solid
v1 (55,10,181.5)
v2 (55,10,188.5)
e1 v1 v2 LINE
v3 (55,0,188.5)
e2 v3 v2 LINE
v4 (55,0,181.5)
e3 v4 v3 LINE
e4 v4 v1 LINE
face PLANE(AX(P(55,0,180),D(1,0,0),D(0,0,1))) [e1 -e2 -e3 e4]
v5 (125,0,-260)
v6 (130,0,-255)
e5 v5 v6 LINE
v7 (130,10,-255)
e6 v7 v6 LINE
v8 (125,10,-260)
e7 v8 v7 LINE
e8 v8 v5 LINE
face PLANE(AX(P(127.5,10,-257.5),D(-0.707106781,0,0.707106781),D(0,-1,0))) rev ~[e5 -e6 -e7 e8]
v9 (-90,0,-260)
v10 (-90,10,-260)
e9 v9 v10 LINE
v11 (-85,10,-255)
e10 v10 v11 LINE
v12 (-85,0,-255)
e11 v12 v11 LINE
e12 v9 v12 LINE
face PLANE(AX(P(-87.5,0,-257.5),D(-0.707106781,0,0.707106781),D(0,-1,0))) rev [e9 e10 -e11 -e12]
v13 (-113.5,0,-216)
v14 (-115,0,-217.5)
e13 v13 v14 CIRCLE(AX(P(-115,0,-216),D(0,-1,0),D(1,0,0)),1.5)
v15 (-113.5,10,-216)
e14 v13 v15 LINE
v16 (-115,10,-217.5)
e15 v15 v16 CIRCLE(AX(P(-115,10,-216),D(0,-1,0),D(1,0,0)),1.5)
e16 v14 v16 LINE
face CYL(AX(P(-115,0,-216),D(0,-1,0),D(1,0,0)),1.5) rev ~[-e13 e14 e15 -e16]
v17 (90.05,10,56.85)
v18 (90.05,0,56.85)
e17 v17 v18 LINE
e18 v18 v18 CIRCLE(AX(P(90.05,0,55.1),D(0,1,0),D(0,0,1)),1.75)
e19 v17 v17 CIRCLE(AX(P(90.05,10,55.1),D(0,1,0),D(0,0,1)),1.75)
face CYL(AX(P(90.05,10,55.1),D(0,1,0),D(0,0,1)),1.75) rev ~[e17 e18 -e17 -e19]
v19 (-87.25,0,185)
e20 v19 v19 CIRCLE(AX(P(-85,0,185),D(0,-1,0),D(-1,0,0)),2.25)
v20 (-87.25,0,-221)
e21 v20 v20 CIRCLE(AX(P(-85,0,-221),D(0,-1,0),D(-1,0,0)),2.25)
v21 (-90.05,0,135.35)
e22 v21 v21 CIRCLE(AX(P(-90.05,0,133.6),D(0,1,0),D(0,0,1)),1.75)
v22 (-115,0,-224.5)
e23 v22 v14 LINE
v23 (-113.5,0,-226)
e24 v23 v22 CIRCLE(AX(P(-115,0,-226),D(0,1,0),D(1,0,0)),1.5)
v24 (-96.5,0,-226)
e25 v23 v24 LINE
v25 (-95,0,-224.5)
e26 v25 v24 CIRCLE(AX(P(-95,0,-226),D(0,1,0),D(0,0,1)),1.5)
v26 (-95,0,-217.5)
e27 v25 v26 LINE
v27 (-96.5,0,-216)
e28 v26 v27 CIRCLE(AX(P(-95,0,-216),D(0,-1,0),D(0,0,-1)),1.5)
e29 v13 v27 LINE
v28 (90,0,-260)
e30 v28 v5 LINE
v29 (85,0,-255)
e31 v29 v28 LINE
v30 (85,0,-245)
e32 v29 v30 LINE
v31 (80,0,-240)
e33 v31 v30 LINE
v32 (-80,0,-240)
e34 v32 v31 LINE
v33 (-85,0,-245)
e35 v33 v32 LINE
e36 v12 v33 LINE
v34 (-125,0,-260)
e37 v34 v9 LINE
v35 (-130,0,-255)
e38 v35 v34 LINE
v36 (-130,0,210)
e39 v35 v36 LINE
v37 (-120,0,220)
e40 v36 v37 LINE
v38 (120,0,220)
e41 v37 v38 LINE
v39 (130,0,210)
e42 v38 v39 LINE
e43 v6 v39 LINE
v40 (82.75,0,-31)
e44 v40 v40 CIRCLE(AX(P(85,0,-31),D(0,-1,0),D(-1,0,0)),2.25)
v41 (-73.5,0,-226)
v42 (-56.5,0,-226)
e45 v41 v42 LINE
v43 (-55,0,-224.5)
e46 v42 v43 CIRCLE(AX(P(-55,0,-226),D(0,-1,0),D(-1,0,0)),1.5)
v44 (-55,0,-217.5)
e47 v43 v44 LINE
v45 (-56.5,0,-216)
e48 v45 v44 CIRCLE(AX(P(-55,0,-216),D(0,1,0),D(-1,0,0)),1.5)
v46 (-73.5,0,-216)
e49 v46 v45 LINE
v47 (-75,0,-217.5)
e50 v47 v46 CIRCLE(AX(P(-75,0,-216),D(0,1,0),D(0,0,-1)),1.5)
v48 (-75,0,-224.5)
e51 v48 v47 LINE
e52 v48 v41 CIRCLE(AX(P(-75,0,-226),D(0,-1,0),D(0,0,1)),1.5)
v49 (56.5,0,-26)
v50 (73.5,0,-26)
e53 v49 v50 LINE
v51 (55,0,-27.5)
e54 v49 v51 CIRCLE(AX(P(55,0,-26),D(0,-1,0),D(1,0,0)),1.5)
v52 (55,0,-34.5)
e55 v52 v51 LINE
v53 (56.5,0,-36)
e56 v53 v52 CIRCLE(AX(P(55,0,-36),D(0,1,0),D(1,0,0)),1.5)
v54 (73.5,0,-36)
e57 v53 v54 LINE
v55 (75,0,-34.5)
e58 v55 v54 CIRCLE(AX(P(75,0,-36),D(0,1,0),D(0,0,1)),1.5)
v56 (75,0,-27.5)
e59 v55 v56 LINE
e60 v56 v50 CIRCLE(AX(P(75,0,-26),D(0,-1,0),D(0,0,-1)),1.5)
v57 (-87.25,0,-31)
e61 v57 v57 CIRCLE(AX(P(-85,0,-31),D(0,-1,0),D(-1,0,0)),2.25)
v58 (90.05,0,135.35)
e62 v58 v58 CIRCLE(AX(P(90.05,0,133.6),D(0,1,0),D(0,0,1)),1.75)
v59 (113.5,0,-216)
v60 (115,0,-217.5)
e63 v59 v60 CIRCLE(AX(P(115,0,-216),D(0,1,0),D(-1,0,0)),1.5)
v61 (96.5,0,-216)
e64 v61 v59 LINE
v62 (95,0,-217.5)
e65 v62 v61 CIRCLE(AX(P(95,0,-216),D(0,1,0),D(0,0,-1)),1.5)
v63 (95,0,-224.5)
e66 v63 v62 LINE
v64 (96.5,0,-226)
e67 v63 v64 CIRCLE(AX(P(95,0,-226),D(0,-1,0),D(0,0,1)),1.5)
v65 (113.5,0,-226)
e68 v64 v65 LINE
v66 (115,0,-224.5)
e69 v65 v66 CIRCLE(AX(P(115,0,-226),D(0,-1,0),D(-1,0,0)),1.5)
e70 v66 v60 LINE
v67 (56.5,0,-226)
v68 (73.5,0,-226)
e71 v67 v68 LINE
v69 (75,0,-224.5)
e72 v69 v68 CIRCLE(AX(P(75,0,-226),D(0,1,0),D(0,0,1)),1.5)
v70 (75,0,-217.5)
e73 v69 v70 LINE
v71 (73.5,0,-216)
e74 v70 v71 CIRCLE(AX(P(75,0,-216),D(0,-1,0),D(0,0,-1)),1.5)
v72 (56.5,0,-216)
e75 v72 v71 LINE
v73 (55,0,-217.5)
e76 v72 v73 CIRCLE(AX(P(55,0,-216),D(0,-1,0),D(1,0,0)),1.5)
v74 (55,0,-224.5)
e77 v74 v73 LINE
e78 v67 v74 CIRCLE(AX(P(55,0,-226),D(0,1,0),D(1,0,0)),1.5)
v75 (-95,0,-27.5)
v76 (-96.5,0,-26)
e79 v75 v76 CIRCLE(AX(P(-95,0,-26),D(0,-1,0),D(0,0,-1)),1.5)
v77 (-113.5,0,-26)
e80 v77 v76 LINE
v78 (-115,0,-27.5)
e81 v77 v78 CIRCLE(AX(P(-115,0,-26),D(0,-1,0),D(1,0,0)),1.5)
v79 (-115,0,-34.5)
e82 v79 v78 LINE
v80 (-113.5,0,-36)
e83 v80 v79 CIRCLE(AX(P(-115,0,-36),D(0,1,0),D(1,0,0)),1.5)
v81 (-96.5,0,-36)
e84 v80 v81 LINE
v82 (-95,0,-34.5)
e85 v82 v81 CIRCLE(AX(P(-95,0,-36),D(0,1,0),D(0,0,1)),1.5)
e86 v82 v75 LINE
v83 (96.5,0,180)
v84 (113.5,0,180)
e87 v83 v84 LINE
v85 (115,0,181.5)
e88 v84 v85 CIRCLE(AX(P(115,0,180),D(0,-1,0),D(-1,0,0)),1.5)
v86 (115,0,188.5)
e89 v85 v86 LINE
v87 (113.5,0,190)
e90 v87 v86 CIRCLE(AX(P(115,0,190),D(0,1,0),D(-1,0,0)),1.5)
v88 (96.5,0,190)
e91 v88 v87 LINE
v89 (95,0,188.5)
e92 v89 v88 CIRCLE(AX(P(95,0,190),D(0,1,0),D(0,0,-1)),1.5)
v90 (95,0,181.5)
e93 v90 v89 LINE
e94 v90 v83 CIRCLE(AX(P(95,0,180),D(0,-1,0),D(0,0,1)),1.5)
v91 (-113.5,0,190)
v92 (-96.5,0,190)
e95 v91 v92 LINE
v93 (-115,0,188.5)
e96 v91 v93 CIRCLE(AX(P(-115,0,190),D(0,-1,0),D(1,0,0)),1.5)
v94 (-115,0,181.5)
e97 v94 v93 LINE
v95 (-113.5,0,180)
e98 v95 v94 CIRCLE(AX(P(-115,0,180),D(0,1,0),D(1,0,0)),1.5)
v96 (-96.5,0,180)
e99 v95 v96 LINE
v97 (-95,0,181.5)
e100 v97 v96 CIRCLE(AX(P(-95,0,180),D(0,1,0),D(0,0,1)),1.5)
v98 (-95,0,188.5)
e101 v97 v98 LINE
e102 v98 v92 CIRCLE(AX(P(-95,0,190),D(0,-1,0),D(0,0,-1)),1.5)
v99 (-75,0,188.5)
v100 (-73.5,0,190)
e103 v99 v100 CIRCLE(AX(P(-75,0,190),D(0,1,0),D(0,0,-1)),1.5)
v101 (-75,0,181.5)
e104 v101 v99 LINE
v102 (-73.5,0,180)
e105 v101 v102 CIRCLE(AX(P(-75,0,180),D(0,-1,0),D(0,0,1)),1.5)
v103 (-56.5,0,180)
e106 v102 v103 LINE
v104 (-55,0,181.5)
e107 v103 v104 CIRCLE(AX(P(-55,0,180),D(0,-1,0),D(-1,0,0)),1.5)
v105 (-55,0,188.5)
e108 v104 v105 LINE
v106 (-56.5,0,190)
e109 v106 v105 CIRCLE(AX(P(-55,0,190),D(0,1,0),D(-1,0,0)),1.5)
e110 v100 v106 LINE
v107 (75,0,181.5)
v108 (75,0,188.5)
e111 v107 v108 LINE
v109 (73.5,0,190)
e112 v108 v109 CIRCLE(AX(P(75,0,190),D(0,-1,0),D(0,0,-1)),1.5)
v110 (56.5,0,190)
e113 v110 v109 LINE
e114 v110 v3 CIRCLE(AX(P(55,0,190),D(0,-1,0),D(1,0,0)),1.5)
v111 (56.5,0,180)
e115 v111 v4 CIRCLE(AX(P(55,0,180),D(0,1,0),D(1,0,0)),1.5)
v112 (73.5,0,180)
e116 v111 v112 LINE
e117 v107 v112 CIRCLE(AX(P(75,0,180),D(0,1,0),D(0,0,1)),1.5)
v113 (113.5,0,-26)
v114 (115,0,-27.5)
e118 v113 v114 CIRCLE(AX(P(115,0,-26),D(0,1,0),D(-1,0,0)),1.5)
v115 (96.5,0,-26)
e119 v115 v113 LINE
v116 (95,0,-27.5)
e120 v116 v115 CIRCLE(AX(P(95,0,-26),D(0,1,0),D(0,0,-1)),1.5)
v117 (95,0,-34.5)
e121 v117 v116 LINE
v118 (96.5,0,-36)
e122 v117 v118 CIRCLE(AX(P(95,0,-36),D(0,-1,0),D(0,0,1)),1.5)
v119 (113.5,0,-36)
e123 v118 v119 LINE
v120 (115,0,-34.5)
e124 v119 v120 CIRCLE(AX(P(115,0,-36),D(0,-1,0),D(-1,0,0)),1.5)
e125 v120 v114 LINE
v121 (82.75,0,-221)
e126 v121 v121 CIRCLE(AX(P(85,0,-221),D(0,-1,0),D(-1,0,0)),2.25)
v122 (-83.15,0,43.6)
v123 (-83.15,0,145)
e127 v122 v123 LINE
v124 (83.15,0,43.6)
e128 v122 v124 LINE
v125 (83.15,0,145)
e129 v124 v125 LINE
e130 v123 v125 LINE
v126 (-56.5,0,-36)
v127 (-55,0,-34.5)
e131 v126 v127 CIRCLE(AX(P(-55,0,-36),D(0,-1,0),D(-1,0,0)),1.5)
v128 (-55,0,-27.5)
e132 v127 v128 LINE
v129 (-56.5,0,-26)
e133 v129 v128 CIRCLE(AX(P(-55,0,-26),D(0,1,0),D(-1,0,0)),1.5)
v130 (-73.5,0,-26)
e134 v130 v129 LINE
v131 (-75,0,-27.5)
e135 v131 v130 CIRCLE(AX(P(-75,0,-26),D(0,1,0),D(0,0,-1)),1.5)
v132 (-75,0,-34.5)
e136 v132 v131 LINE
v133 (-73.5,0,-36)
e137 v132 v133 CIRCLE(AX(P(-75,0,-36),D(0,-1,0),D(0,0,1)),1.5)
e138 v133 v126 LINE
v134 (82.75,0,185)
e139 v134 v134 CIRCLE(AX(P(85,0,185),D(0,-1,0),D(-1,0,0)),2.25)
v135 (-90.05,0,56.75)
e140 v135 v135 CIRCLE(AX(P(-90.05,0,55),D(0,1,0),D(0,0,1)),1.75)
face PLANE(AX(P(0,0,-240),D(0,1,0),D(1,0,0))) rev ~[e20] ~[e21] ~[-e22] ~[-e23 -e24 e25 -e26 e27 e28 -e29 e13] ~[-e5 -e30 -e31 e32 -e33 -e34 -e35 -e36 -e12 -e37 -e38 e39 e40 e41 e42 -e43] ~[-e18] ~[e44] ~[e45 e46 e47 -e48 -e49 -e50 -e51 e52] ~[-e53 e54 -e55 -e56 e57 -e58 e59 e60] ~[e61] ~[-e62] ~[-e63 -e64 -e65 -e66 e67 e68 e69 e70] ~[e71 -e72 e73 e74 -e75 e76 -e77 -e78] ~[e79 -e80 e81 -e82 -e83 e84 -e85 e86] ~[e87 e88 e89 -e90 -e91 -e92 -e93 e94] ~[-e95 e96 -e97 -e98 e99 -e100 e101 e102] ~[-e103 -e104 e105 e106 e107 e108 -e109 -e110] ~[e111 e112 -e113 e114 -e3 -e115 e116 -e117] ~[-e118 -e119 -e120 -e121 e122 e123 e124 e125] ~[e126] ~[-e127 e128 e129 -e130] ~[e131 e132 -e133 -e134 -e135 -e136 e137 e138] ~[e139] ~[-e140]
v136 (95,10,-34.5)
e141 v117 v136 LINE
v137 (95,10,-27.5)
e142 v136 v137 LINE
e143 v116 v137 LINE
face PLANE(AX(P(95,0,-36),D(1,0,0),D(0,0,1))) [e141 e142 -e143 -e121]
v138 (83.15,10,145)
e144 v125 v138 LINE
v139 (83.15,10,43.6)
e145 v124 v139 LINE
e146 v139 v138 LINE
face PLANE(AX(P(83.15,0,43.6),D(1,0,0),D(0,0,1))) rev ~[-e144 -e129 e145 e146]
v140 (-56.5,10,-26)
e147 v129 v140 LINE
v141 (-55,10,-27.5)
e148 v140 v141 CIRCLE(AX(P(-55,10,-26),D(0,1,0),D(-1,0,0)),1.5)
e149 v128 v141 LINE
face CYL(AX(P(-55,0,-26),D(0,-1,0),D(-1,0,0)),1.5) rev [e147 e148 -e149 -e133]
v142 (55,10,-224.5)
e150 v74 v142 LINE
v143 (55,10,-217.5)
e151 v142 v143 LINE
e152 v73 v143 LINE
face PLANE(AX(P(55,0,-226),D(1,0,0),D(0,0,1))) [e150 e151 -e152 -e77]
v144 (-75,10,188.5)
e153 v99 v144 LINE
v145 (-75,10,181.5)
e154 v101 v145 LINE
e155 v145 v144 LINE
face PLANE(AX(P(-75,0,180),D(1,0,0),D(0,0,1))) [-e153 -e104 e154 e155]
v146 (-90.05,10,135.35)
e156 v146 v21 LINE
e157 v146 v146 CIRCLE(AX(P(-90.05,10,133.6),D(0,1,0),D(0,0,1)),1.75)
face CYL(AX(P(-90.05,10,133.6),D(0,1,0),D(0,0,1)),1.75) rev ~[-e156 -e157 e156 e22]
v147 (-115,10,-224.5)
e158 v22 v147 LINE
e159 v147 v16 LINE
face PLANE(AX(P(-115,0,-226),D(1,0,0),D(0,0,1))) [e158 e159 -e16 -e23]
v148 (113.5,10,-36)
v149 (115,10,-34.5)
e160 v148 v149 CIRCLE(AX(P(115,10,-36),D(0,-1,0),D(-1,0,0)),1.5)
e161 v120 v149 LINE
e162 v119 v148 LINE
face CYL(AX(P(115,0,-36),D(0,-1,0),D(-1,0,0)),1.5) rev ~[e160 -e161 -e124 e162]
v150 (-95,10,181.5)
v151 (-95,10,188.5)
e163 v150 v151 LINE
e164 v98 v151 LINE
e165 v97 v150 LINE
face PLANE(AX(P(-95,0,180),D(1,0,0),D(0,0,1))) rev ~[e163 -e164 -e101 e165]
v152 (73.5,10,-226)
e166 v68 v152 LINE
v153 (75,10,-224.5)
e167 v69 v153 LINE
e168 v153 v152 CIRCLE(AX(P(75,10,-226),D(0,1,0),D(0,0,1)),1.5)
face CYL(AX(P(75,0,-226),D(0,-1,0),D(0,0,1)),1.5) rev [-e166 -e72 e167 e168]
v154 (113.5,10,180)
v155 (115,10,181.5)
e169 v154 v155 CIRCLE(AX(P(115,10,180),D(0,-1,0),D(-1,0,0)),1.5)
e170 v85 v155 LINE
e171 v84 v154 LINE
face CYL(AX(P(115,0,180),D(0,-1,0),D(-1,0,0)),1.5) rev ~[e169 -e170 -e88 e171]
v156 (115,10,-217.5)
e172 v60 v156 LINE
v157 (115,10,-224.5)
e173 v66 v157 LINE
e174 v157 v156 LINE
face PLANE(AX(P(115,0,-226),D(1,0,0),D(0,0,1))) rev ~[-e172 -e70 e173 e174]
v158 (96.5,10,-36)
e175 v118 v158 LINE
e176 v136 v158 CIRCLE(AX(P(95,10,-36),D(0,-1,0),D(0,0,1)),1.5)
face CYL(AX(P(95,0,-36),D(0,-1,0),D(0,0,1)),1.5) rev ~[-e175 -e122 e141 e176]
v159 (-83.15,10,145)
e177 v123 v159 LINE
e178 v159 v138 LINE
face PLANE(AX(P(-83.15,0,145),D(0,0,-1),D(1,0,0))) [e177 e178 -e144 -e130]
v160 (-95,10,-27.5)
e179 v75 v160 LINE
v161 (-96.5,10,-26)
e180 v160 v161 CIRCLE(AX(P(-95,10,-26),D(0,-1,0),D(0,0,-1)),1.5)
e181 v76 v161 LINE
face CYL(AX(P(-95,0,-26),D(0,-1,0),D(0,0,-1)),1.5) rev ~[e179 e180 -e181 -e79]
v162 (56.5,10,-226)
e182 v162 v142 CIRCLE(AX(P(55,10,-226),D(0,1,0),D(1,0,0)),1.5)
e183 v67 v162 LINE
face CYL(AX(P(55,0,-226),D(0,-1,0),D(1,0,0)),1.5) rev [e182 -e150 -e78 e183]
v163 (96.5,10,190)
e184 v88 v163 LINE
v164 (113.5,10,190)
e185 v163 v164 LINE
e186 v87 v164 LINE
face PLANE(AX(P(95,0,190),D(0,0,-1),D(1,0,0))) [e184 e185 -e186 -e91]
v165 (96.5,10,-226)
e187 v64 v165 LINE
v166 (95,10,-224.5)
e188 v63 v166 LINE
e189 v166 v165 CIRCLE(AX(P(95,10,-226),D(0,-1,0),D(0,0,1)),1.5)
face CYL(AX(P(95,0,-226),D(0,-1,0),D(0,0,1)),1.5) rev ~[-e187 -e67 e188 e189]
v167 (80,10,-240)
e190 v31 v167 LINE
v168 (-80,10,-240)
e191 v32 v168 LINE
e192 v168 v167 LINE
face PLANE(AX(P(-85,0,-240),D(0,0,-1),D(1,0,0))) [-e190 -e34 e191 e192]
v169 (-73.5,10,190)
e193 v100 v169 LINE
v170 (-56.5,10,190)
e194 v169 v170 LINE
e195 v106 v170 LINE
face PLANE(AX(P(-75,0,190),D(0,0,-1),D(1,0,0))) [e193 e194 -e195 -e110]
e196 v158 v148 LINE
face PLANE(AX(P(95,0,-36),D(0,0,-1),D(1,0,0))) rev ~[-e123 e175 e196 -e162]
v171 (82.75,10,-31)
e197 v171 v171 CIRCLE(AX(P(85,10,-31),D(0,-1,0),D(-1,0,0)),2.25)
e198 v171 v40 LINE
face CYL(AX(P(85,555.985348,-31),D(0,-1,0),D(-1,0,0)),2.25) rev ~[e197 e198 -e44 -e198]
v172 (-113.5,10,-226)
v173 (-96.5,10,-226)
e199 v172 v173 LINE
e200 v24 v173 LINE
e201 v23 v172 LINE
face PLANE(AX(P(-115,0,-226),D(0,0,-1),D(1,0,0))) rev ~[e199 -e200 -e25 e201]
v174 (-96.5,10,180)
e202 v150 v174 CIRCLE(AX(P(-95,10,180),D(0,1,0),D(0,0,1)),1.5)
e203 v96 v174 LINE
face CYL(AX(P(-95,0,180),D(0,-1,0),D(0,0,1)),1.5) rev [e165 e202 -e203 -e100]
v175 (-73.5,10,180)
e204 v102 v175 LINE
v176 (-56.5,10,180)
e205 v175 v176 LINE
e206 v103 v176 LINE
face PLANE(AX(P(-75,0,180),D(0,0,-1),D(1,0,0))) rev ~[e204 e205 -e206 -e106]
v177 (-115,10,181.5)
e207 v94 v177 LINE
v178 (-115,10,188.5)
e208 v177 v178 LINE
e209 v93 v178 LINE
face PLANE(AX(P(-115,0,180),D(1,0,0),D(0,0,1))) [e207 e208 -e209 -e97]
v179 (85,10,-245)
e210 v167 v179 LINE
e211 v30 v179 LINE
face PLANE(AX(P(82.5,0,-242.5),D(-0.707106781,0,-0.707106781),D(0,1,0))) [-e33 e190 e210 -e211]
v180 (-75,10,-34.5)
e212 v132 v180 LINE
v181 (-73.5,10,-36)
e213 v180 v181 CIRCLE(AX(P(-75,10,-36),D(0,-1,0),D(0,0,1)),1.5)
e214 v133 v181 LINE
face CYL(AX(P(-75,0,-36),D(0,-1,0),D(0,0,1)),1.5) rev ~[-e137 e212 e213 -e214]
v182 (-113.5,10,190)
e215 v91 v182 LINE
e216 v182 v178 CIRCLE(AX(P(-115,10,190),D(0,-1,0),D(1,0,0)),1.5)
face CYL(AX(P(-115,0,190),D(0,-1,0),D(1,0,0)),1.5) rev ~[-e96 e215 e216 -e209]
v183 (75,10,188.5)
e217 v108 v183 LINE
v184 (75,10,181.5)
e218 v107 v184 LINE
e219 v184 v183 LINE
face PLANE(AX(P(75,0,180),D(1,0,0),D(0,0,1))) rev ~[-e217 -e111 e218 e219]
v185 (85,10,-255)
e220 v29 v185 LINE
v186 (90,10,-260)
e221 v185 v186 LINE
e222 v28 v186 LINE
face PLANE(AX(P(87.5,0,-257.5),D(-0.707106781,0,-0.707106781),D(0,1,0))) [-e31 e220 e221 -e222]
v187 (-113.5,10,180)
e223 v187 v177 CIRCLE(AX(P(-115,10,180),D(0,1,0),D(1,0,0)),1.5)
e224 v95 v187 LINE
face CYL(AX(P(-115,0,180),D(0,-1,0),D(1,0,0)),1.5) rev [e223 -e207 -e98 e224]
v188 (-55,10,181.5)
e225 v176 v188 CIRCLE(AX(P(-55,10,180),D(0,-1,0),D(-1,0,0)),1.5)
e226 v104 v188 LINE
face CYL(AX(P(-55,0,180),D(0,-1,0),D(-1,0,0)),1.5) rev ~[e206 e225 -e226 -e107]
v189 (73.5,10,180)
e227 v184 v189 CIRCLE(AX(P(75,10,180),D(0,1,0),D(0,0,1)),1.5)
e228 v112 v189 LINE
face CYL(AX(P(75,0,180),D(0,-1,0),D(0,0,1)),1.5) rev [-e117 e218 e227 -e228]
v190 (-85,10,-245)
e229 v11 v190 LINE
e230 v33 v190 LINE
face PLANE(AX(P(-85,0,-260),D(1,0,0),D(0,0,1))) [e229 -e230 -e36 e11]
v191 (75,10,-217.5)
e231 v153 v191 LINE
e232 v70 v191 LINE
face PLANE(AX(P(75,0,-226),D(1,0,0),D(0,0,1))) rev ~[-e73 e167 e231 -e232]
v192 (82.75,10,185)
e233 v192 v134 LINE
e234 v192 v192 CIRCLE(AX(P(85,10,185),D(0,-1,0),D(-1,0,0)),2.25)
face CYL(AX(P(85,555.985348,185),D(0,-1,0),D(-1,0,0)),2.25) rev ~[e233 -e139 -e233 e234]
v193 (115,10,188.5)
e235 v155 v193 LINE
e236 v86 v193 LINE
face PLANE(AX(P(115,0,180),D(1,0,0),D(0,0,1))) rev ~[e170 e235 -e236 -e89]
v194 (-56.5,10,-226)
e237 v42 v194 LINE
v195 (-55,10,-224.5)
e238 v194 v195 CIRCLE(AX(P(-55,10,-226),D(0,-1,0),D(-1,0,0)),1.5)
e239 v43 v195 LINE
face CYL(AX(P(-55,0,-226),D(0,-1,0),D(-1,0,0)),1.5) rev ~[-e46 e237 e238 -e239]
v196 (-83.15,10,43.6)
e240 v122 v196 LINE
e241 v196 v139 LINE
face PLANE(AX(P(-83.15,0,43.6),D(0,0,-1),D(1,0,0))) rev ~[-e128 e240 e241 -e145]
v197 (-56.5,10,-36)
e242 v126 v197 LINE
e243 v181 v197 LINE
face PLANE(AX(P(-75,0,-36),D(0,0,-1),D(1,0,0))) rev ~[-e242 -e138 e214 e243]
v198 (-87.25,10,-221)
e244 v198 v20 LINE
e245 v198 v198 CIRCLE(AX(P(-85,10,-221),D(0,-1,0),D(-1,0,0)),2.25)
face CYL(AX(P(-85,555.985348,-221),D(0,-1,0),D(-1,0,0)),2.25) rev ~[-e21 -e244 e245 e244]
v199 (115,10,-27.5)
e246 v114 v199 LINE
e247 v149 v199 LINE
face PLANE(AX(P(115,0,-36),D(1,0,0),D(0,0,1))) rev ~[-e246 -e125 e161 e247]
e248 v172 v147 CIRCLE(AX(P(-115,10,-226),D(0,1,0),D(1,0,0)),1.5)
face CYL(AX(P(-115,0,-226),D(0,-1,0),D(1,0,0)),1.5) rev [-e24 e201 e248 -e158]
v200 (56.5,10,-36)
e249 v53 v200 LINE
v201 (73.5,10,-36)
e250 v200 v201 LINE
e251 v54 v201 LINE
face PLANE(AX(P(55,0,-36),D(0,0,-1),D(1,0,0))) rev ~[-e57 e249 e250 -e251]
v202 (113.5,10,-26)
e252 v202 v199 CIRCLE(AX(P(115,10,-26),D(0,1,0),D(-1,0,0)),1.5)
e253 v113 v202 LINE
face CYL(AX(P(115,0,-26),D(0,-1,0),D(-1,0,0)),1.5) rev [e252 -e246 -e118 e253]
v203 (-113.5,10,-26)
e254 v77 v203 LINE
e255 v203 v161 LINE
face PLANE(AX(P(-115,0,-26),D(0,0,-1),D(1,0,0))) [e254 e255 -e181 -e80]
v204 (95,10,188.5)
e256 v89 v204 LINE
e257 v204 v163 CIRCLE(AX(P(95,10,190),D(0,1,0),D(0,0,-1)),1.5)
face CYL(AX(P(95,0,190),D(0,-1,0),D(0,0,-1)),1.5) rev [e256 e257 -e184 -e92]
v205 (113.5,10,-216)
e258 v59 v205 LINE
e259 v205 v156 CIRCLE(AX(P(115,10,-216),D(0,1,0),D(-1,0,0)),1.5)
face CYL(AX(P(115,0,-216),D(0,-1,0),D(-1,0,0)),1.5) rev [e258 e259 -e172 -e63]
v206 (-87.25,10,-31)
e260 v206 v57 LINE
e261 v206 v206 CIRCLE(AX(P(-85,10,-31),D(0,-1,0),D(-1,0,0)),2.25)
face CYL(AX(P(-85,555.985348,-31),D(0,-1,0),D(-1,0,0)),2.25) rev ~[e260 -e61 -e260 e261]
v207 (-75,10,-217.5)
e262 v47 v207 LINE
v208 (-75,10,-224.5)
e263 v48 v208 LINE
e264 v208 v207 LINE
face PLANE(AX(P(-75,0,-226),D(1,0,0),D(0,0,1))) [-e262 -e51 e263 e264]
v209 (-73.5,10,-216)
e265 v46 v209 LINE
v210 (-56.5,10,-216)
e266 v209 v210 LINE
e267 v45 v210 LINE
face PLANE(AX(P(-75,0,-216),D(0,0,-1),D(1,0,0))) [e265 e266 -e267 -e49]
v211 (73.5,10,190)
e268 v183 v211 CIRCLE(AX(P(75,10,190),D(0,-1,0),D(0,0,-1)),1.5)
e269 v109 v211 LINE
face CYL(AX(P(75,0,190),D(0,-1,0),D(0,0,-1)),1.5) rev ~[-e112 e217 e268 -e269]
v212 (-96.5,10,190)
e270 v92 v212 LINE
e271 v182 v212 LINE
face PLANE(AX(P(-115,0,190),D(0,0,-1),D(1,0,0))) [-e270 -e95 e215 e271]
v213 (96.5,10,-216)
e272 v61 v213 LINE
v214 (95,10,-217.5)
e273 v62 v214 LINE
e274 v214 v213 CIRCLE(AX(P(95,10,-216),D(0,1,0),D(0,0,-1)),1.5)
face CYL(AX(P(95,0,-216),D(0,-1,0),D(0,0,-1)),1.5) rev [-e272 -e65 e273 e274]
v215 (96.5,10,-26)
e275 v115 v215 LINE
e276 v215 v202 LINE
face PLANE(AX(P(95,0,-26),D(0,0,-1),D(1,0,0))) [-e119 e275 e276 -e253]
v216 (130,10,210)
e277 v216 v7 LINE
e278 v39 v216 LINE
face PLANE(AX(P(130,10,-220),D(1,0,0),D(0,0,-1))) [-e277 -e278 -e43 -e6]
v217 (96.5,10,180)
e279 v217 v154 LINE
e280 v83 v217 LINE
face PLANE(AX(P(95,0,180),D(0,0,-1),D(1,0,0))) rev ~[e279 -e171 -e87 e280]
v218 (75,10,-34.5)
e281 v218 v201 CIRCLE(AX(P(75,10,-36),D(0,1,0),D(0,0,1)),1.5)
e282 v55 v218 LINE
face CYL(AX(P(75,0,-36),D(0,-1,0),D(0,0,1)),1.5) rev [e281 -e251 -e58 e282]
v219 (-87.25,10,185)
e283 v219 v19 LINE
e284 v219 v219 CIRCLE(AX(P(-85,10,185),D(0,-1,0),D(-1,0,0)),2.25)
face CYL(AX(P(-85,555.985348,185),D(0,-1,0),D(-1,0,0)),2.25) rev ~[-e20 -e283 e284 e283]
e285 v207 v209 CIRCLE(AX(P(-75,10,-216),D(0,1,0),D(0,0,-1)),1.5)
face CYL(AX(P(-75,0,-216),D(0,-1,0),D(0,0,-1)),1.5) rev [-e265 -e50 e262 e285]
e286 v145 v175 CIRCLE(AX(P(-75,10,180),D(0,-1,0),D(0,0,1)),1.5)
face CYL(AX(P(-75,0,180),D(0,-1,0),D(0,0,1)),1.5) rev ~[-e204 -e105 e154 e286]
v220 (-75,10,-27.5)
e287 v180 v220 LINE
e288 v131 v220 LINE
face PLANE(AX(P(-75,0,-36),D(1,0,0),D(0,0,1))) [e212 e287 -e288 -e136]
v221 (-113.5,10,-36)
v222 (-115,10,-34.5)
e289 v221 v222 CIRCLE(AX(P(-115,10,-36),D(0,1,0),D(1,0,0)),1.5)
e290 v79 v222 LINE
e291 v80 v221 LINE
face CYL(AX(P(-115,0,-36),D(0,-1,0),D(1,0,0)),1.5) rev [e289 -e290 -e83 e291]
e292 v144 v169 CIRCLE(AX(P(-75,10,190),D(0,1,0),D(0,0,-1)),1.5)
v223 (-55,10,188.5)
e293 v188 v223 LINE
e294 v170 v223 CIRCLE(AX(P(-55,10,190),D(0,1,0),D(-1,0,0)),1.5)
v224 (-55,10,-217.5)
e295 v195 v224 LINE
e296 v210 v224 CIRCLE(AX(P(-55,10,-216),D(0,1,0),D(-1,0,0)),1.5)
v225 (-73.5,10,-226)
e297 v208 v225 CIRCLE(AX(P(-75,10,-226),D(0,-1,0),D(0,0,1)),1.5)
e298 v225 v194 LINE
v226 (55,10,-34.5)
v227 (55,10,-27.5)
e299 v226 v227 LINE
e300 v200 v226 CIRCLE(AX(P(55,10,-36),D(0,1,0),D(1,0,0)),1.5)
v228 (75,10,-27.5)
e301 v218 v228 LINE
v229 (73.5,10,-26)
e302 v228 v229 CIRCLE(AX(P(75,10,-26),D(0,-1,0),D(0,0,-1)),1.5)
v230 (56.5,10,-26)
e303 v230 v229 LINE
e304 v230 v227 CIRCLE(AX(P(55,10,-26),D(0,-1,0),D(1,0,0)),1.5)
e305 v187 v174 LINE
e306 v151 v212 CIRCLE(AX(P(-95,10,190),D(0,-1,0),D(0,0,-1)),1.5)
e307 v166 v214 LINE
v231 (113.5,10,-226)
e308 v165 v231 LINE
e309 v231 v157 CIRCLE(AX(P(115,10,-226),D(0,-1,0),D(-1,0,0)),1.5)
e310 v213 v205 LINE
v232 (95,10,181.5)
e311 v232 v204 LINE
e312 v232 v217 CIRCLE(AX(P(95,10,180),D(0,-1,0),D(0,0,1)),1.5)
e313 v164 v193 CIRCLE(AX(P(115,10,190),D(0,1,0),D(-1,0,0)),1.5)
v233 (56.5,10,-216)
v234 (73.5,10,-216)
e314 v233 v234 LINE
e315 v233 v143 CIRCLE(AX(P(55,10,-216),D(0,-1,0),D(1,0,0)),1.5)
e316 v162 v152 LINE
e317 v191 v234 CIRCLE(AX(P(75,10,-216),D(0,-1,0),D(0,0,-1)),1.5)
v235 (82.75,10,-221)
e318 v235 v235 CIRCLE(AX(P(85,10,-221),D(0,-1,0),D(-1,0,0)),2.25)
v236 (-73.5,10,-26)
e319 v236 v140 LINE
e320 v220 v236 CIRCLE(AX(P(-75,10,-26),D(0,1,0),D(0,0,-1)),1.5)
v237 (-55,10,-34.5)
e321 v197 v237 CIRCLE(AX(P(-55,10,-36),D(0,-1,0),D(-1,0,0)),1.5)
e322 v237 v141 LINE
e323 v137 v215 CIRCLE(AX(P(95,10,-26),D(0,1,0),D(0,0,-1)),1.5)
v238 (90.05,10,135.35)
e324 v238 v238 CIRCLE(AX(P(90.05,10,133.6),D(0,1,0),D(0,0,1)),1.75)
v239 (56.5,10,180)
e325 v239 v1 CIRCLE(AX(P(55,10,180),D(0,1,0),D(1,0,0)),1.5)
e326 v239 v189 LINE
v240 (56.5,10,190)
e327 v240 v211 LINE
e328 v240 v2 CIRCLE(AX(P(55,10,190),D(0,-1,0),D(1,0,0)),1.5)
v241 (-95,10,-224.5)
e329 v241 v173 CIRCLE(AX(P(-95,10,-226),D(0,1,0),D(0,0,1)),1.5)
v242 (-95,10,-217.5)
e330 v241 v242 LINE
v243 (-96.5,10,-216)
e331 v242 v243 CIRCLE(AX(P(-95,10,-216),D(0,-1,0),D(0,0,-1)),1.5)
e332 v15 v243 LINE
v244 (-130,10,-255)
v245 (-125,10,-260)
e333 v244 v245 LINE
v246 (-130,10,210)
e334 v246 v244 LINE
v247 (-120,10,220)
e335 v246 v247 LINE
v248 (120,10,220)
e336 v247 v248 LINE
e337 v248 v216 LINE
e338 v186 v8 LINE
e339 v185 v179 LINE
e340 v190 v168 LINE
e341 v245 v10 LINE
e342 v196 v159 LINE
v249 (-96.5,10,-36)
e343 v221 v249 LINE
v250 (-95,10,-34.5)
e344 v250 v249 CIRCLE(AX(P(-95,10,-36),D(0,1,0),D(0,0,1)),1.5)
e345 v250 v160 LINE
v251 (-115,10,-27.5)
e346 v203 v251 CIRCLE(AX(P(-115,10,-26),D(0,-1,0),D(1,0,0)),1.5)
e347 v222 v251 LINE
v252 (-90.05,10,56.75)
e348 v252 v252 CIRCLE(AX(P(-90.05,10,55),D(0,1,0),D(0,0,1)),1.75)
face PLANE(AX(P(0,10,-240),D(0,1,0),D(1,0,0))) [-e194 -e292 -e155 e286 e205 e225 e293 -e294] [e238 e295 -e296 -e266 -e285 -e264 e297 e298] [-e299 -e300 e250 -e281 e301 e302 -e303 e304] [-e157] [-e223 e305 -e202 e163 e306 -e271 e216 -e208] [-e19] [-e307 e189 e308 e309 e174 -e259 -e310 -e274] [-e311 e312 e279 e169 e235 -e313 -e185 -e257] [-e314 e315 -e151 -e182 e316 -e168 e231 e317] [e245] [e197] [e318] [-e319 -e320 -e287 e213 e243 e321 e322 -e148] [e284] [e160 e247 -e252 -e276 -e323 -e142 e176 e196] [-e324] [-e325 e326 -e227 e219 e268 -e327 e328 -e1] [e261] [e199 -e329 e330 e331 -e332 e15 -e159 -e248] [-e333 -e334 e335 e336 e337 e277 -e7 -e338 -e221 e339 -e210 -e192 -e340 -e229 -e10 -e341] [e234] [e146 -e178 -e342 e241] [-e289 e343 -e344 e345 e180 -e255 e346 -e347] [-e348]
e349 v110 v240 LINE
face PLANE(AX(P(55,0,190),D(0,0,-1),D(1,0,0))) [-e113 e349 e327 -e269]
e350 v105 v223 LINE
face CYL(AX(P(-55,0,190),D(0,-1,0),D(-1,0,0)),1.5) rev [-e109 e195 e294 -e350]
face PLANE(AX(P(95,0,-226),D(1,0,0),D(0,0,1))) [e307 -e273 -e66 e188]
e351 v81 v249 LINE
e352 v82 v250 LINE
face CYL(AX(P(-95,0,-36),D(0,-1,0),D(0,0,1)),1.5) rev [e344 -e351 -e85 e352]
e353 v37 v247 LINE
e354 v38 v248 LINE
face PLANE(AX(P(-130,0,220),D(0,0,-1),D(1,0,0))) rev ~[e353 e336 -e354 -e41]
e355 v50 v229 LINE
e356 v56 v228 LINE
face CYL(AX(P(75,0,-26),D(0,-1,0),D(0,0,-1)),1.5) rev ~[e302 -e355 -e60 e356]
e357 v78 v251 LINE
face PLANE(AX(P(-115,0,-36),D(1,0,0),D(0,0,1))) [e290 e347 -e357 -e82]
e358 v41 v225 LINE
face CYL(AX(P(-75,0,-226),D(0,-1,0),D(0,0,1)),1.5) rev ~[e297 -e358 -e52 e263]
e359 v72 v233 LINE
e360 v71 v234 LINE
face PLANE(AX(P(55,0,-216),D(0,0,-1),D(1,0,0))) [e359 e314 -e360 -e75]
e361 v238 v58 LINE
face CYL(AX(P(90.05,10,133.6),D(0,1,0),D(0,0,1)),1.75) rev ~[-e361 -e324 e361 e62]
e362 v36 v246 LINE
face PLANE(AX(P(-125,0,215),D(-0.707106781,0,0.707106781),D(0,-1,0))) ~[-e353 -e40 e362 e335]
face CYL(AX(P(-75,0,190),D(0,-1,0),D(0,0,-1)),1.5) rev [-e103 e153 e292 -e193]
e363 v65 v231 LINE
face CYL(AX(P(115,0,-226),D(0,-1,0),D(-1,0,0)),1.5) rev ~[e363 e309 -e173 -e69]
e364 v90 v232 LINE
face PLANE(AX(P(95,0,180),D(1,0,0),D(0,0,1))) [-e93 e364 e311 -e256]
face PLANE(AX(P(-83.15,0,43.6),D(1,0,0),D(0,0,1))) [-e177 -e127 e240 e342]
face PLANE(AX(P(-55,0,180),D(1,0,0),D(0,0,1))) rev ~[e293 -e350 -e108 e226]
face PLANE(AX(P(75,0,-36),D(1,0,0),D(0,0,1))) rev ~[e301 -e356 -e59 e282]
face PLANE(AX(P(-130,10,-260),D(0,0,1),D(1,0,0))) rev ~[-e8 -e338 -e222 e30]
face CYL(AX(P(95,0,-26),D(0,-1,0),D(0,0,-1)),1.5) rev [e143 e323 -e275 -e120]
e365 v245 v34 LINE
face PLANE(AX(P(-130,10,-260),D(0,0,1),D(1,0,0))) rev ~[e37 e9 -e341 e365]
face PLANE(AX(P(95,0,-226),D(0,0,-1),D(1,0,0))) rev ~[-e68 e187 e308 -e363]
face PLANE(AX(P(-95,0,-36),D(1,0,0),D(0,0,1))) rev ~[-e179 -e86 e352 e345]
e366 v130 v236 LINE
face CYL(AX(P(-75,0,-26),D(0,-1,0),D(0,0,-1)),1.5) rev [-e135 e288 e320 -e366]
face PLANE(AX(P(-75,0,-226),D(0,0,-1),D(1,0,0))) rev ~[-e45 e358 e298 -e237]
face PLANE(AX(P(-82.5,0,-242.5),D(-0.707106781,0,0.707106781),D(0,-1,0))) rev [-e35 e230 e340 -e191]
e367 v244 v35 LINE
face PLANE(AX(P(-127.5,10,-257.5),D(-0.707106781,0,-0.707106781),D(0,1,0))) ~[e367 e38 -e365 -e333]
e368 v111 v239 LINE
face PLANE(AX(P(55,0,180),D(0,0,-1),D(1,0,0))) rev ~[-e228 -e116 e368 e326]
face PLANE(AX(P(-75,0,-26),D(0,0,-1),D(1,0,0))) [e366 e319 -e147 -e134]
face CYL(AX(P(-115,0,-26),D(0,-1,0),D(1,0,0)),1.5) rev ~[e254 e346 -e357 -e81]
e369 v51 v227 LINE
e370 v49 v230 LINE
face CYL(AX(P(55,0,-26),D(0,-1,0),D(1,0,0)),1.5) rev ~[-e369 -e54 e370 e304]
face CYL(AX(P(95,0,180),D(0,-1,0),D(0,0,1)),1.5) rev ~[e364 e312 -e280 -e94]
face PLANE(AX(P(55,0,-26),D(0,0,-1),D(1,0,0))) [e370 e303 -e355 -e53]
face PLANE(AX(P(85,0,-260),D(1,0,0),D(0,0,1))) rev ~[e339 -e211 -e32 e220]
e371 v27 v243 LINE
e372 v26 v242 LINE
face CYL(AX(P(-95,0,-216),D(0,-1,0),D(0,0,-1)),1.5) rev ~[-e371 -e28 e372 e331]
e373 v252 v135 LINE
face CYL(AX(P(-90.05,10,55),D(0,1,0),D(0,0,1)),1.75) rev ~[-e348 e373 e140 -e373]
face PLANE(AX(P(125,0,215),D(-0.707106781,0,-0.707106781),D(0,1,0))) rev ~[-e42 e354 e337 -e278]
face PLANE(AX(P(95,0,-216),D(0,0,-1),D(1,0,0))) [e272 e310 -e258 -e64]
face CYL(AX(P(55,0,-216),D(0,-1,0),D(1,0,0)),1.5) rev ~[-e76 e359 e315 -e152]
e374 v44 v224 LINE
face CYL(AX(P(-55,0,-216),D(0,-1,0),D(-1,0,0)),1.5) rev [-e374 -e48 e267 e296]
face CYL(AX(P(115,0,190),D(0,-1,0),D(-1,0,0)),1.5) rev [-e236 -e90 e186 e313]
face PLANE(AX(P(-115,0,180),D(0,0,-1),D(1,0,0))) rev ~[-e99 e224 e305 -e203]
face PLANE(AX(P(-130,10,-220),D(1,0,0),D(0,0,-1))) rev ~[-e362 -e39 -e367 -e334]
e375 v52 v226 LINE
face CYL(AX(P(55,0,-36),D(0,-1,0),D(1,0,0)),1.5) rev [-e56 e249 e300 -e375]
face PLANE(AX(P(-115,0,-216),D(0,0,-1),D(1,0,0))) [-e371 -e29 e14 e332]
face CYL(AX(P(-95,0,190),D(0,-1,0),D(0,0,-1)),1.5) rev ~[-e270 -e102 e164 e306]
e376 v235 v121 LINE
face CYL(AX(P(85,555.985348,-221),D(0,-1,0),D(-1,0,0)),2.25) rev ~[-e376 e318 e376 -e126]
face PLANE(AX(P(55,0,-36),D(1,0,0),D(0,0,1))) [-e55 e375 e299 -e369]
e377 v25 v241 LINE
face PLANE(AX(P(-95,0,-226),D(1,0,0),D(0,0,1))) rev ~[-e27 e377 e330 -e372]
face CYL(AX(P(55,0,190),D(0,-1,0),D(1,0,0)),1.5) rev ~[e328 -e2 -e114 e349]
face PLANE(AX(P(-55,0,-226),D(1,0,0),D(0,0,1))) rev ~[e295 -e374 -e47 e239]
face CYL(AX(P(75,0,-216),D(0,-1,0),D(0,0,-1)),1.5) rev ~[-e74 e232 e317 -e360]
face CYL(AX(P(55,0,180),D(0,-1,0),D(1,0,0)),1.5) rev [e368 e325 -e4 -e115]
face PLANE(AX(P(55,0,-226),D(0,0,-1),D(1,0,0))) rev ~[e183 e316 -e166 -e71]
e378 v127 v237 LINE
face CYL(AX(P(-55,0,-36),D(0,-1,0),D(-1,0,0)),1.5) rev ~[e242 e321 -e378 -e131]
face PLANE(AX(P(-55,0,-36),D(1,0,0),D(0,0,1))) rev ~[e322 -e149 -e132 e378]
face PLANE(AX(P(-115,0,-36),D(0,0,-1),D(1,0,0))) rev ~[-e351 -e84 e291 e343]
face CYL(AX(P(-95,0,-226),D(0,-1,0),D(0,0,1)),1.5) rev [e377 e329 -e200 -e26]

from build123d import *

# Parameters (mm, degrees)
SKETCH1_W            = 260
SKETCH1_H            = 440
EXTRUDE1_DEPTH       = 10
SKETCH3_W            = 260
SKETCH3_H            = 40
EXTRUDE3_DEPTH       = 10
SKETCH4_W            = 20
SKETCH4_H            = 10
CUT_EXTRUDE1_DEPTH   = 10
EXTRUDE4_DEPTH       = 10
MIRROR2_COPY_1_DEPTH = 10
MIRROR3_COPY_1_DEPTH = 10
MIRROR3_COPY_2_DEPTH = 10
MIRROR3_COPY_3_DEPTH = 10
MIRROR4_COPY_1_DEPTH = 10
MIRROR4_COPY_2_DEPTH = 10
MIRROR4_COPY_3_DEPTH = 10
M4_CLEARANCE_HOLE1_D = 4.5
SKETCH8_W            = 166.3
SKETCH8_H            = 101.4
CUT_EXTRUDE2_DEPTH   = 10
SKETCH9_R            = 1.75
CUT_EXTRUDE3_DEPTH   = 10
CHAMFER1_SIZE        = 10
SKETCH10_W           = 170
SKETCH10_H           = 20
EXTRUDE6_DEPTH       = 10
CHAMFER2_SIZE        = 5


with BuildPart() as part:
    # Sketch1 → Extrude1 (new body)
    with BuildSketch(Plane(origin=(0, 0, 0), x_dir=(1, 0, 0), z_dir=(0, 1, 0))):
        Rectangle(SKETCH1_W, SKETCH1_H)
    extrude(amount=EXTRUDE1_DEPTH)

    # Sketch3 → Extrude3 (add)
    with BuildSketch(Plane(origin=(0, 10, 0), x_dir=(1, 0, 0), z_dir=(0, 1, 0))):
        with Locations((0, 240)):
            Rectangle(SKETCH3_W, SKETCH3_H)
    extrude(amount=-EXTRUDE3_DEPTH)

    # Sketch4 → Cut-Extrude1 (cut)
    with BuildSketch(Plane(origin=(130, 0, -206), x_dir=(1, 0, 0), z_dir=(0, -1, 0))):
        with Locations((-235, 391)):
            Rectangle(SKETCH4_W, SKETCH4_H)
        with Locations((-195, 391)):
            Rectangle(SKETCH4_W, SKETCH4_H)
        with Locations((-65, 391)):
            Rectangle(SKETCH4_W, SKETCH4_H)
        with Locations((-25, 391)):
            Rectangle(SKETCH4_W, SKETCH4_H)
        with Locations((-235, 175)):
            Rectangle(SKETCH4_W, SKETCH4_H)
        with Locations((-195, 175)):
            Rectangle(SKETCH4_W, SKETCH4_H)
        with Locations((-65, 175)):
            Rectangle(SKETCH4_W, SKETCH4_H)
        with Locations((-25, 175)):
            Rectangle(SKETCH4_W, SKETCH4_H)
        with Locations((-235, -15)):
            Rectangle(SKETCH4_W, SKETCH4_H)
        with Locations((-195, -15)):
            Rectangle(SKETCH4_W, SKETCH4_H)
        with Locations((-65, -15)):
            Rectangle(SKETCH4_W, SKETCH4_H)
        with Locations((-25, -15)):
            Rectangle(SKETCH4_W, SKETCH4_H)
    extrude(amount=-CUT_EXTRUDE1_DEPTH, mode=Mode.SUBTRACT)

    # Sketch5 → Extrude4 (cut)
    with BuildSketch(Plane(origin=(0, 0, 0), x_dir=(-1, 0, 0), z_dir=(0, -1, 0))):
        with BuildLine():
            Line((96.5, -190), (95, -190))
            Line((95, -190), (95, -188.5))
            ThreePointArc((95, -188.5), (93.939339828, -191.060660172), (96.5, -190))
        make_face()
        with BuildLine():
            Line((115, -190), (113.5, -190))
            ThreePointArc((113.5, -190), (116.060660172, -191.060660172), (115, -188.5))
            Line((115, -188.5), (115, -190))
        make_face()
        with BuildLine():
            Line((115, -180), (113.5, -180))
            ThreePointArc((113.5, -180), (116.060660172, -178.939339828), (115, -181.5))
            Line((115, -181.5), (115, -180))
        make_face()
        with BuildLine():
            Line((96.5, -180), (95, -180))
            Line((95, -180), (95, -181.5))
            ThreePointArc((95, -181.5), (93.939339828, -178.939339828), (96.5, -180))
        make_face()
    extrude4 = extrude(amount=-EXTRUDE4_DEPTH, mode=Mode.SUBTRACT)

    # Mirror1: Extrude4 across plane
    add(extrude4.mirror(Plane(origin=(-85, 0, 0), x_dir=(0, 0, 1), z_dir=(1, 0, 0))), mode=Mode.SUBTRACT)

    # Mirror2: Extrude4 across plane
    add(extrude4.mirror(Plane(origin=(0, 0, 0), x_dir=(0, 0, 1), z_dir=(1, 0, 0))), mode=Mode.SUBTRACT)

    # Mirror2 copy 1 sketch → Mirror2 copy 1 (cut)
    with BuildSketch(Plane(origin=(170, 0, 0), x_dir=(-1, 0, 0), z_dir=(0, -1, 0))):
        with BuildLine():
            Line((96.5, -190), (95, -190))
            Line((95, -190), (95, -188.5))
            ThreePointArc((95, -188.5), (93.939339828, -191.060660172), (96.5, -190))
        make_face()
        with BuildLine():
            Line((115, -190), (113.5, -190))
            ThreePointArc((113.5, -190), (116.060660172, -191.060660172), (115, -188.5))
            Line((115, -188.5), (115, -190))
        make_face()
        with BuildLine():
            Line((115, -180), (113.5, -180))
            ThreePointArc((113.5, -180), (116.060660172, -178.939339828), (115, -181.5))
            Line((115, -181.5), (115, -180))
        make_face()
        with BuildLine():
            Line((96.5, -180), (95, -180))
            Line((95, -180), (95, -181.5))
            ThreePointArc((95, -181.5), (93.939339828, -178.939339828), (96.5, -180))
        make_face()
    extrude(amount=-MIRROR2_COPY_1_DEPTH, mode=Mode.SUBTRACT)

    # Mirror3: Extrude4 across plane
    add(extrude4.mirror(Plane(origin=(0, 0, 77), x_dir=(1, 0, 0), z_dir=(0, 0, -1))), mode=Mode.SUBTRACT)

    # Mirror3 copy 1 sketch → Mirror3 copy 1 (cut)
    with BuildSketch(Plane(origin=(-170, 0, 154), x_dir=(1, 0, 0), z_dir=(0, -1, 0))):
        with BuildLine():
            Line((96.5, -190), (95, -190))
            Line((95, -190), (95, -188.5))
            ThreePointArc((95, -188.5), (93.939339828, -191.060660172), (96.5, -190))
        make_face()
        with BuildLine():
            Line((115, -190), (113.5, -190))
            ThreePointArc((113.5, -190), (116.060660172, -191.060660172), (115, -188.5))
            Line((115, -188.5), (115, -190))
        make_face()
        with BuildLine():
            Line((115, -180), (113.5, -180))
            ThreePointArc((113.5, -180), (116.060660172, -178.939339828), (115, -181.5))
            Line((115, -181.5), (115, -180))
        make_face()
        with BuildLine():
            Line((96.5, -180), (95, -180))
            Line((95, -180), (95, -181.5))
            ThreePointArc((95, -181.5), (93.939339828, -178.939339828), (96.5, -180))
        make_face()
    extrude(amount=-MIRROR3_COPY_1_DEPTH, mode=Mode.SUBTRACT)

    # Mirror3 copy 2 sketch → Mirror3 copy 2 (cut)
    with BuildSketch(Plane(origin=(0, 0, 154), x_dir=(1, 0, 0), z_dir=(0, -1, 0))):
        with BuildLine():
            Line((96.5, -190), (95, -190))
            Line((95, -190), (95, -188.5))
            ThreePointArc((95, -188.5), (93.939339828, -191.060660172), (96.5, -190))
        make_face()
        with BuildLine():
            Line((115, -190), (113.5, -190))
            ThreePointArc((113.5, -190), (116.060660172, -191.060660172), (115, -188.5))
            Line((115, -188.5), (115, -190))
        make_face()
        with BuildLine():
            Line((115, -180), (113.5, -180))
            ThreePointArc((113.5, -180), (116.060660172, -178.939339828), (115, -181.5))
            Line((115, -181.5), (115, -180))
        make_face()
        with BuildLine():
            Line((96.5, -180), (95, -180))
            Line((95, -180), (95, -181.5))
            ThreePointArc((95, -181.5), (93.939339828, -178.939339828), (96.5, -180))
        make_face()
    extrude(amount=-MIRROR3_COPY_2_DEPTH, mode=Mode.SUBTRACT)

    # Mirror3 copy 3 sketch → Mirror3 copy 3 (cut)
    with BuildSketch(Plane(origin=(170, 0, 154), x_dir=(-1, 0, 0), z_dir=(0, -1, 0))):
        with BuildLine():
            Line((96.5, 190), (95, 190))
            Line((95, 190), (95, 188.5))
            ThreePointArc((95, 188.5), (93.939339828, 191.060660172), (96.5, 190))
        make_face()
        with BuildLine():
            Line((115, 190), (113.5, 190))
            ThreePointArc((113.5, 190), (116.060660172, 191.060660172), (115, 188.5))
            Line((115, 188.5), (115, 190))
        make_face()
        with BuildLine():
            Line((115, 180), (113.5, 180))
            ThreePointArc((113.5, 180), (116.060660172, 178.939339828), (115, 181.5))
            Line((115, 181.5), (115, 180))
        make_face()
        with BuildLine():
            Line((96.5, 180), (95, 180))
            Line((95, 180), (95, 181.5))
            ThreePointArc((95, 181.5), (93.939339828, 178.939339828), (96.5, 180))
        make_face()
    extrude(amount=-MIRROR3_COPY_3_DEPTH, mode=Mode.SUBTRACT)

    # Mirror4: Extrude4 across plane
    add(extrude4.mirror(Plane.XY.offset(-18)), mode=Mode.SUBTRACT)

    # Mirror4 copy 1 sketch → Mirror4 copy 1 (cut)
    with BuildSketch(Plane(origin=(-170, 0, -36), x_dir=(1, 0, 0), z_dir=(0, -1, 0))):
        with BuildLine():
            Line((96.5, -190), (95, -190))
            Line((95, -190), (95, -188.5))
            ThreePointArc((95, -188.5), (93.939339828, -191.060660172), (96.5, -190))
        make_face()
        with BuildLine():
            Line((115, -190), (113.5, -190))
            ThreePointArc((113.5, -190), (116.060660172, -191.060660172), (115, -188.5))
            Line((115, -188.5), (115, -190))
        make_face()
        with BuildLine():
            Line((115, -180), (113.5, -180))
            ThreePointArc((113.5, -180), (116.060660172, -178.939339828), (115, -181.5))
            Line((115, -181.5), (115, -180))
        make_face()
        with BuildLine():
            Line((96.5, -180), (95, -180))
            Line((95, -180), (95, -181.5))
            ThreePointArc((95, -181.5), (93.939339828, -178.939339828), (96.5, -180))
        make_face()
    extrude(amount=-MIRROR4_COPY_1_DEPTH, mode=Mode.SUBTRACT)

    # Mirror4 copy 2 sketch → Mirror4 copy 2 (cut)
    with BuildSketch(Plane(origin=(0, 0, -36), x_dir=(1, 0, 0), z_dir=(0, -1, 0))):
        with BuildLine():
            Line((96.5, -190), (95, -190))
            Line((95, -190), (95, -188.5))
            ThreePointArc((95, -188.5), (93.939339828, -191.060660172), (96.5, -190))
        make_face()
        with BuildLine():
            Line((115, -190), (113.5, -190))
            ThreePointArc((113.5, -190), (116.060660172, -191.060660172), (115, -188.5))
            Line((115, -188.5), (115, -190))
        make_face()
        with BuildLine():
            Line((115, -180), (113.5, -180))
            ThreePointArc((113.5, -180), (116.060660172, -178.939339828), (115, -181.5))
            Line((115, -181.5), (115, -180))
        make_face()
        with BuildLine():
            Line((96.5, -180), (95, -180))
            Line((95, -180), (95, -181.5))
            ThreePointArc((95, -181.5), (93.939339828, -178.939339828), (96.5, -180))
        make_face()
    extrude(amount=-MIRROR4_COPY_2_DEPTH, mode=Mode.SUBTRACT)

    # Mirror4 copy 3 sketch → Mirror4 copy 3 (cut)
    with BuildSketch(Plane(origin=(170, 0, -36), x_dir=(-1, 0, 0), z_dir=(0, -1, 0))):
        with BuildLine():
            Line((96.5, 190), (95, 190))
            Line((95, 190), (95, 188.5))
            ThreePointArc((95, 188.5), (93.939339828, 191.060660172), (96.5, 190))
        make_face()
        with BuildLine():
            Line((115, 190), (113.5, 190))
            ThreePointArc((113.5, 190), (116.060660172, 191.060660172), (115, 188.5))
            Line((115, 188.5), (115, 190))
        make_face()
        with BuildLine():
            Line((115, 180), (113.5, 180))
            ThreePointArc((113.5, 180), (116.060660172, 178.939339828), (115, 181.5))
            Line((115, 181.5), (115, 180))
        make_face()
        with BuildLine():
            Line((96.5, 180), (95, 180))
            Line((95, 180), (95, 181.5))
            ThreePointArc((95, 181.5), (93.939339828, 178.939339828), (96.5, 180))
        make_face()
    extrude(amount=-MIRROR4_COPY_3_DEPTH, mode=Mode.SUBTRACT)

    # M4 Clearance Hole1 (through all)
    with Locations(Plane(origin=(0, 10, 0), x_dir=(1, 0, 0), z_dir=(0, 1, 0))):
        with Locations((-85, 221), (85, 221), (85, 31), (-85, 31), (-85, -185), (85, -185)):
            Hole(M4_CLEARANCE_HOLE1_D / 2)

    # Sketch8 → Cut-Extrude2 (cut)
    with BuildSketch(Plane(origin=(130, 0, -206), x_dir=(1, 0, 0), z_dir=(0, -1, 0))):
        with Locations((-130, 300.3)):
            Rectangle(SKETCH8_W, SKETCH8_H)
    extrude(amount=-CUT_EXTRUDE2_DEPTH, mode=Mode.SUBTRACT)

    # Sketch9 → Cut-Extrude3 (cut)
    with BuildSketch(Plane(origin=(-103.5, 10, 155.65), x_dir=(-1, 0, 0), z_dir=(0, 1, 0))):
        with Locations(Location((-13.45, -22.05, 0), (0, 0, 90))):
            Circle(SKETCH9_R)
        with Locations(Location((-193.55, -22.05, 0), (0, 0, 90))):
            Circle(SKETCH9_R)
        with Locations(Location((-13.45, -100.65, 0), (0, 0, 90))):
            Circle(SKETCH9_R)
        with Locations(Location((-193.55, -100.55, 0), (0, 0, 90))):
            Circle(SKETCH9_R)
    extrude(amount=-CUT_EXTRUDE3_DEPTH, mode=Mode.SUBTRACT)

    # Chamfer1
    chamfer1_edges = [part.edges().sort_by_distance(p)[0] for p in [
        (130, 5, 220),
        (-130, 5, 220),
    ]]
    chamfer(chamfer1_edges, length=CHAMFER1_SIZE)

    # Sketch10 → Extrude6 (cut)
    with BuildSketch(Plane.XZ):
        with Locations((0, -250)):
            Rectangle(SKETCH10_W, SKETCH10_H)
    extrude(amount=-EXTRUDE6_DEPTH, mode=Mode.SUBTRACT)

    # Chamfer2
    chamfer2_edges = [part.edges().sort_by_distance(p)[0] for p in [
        (-130, 5, -260),
        (130, 5, -260),
        (-85, 5, -260),
        (-85, 5, -240),
        (85, 5, -240),
        (85, 5, -260),
    ]]
    chamfer(chamfer2_edges, length=CHAMFER2_SIZE)


solid = part.part
